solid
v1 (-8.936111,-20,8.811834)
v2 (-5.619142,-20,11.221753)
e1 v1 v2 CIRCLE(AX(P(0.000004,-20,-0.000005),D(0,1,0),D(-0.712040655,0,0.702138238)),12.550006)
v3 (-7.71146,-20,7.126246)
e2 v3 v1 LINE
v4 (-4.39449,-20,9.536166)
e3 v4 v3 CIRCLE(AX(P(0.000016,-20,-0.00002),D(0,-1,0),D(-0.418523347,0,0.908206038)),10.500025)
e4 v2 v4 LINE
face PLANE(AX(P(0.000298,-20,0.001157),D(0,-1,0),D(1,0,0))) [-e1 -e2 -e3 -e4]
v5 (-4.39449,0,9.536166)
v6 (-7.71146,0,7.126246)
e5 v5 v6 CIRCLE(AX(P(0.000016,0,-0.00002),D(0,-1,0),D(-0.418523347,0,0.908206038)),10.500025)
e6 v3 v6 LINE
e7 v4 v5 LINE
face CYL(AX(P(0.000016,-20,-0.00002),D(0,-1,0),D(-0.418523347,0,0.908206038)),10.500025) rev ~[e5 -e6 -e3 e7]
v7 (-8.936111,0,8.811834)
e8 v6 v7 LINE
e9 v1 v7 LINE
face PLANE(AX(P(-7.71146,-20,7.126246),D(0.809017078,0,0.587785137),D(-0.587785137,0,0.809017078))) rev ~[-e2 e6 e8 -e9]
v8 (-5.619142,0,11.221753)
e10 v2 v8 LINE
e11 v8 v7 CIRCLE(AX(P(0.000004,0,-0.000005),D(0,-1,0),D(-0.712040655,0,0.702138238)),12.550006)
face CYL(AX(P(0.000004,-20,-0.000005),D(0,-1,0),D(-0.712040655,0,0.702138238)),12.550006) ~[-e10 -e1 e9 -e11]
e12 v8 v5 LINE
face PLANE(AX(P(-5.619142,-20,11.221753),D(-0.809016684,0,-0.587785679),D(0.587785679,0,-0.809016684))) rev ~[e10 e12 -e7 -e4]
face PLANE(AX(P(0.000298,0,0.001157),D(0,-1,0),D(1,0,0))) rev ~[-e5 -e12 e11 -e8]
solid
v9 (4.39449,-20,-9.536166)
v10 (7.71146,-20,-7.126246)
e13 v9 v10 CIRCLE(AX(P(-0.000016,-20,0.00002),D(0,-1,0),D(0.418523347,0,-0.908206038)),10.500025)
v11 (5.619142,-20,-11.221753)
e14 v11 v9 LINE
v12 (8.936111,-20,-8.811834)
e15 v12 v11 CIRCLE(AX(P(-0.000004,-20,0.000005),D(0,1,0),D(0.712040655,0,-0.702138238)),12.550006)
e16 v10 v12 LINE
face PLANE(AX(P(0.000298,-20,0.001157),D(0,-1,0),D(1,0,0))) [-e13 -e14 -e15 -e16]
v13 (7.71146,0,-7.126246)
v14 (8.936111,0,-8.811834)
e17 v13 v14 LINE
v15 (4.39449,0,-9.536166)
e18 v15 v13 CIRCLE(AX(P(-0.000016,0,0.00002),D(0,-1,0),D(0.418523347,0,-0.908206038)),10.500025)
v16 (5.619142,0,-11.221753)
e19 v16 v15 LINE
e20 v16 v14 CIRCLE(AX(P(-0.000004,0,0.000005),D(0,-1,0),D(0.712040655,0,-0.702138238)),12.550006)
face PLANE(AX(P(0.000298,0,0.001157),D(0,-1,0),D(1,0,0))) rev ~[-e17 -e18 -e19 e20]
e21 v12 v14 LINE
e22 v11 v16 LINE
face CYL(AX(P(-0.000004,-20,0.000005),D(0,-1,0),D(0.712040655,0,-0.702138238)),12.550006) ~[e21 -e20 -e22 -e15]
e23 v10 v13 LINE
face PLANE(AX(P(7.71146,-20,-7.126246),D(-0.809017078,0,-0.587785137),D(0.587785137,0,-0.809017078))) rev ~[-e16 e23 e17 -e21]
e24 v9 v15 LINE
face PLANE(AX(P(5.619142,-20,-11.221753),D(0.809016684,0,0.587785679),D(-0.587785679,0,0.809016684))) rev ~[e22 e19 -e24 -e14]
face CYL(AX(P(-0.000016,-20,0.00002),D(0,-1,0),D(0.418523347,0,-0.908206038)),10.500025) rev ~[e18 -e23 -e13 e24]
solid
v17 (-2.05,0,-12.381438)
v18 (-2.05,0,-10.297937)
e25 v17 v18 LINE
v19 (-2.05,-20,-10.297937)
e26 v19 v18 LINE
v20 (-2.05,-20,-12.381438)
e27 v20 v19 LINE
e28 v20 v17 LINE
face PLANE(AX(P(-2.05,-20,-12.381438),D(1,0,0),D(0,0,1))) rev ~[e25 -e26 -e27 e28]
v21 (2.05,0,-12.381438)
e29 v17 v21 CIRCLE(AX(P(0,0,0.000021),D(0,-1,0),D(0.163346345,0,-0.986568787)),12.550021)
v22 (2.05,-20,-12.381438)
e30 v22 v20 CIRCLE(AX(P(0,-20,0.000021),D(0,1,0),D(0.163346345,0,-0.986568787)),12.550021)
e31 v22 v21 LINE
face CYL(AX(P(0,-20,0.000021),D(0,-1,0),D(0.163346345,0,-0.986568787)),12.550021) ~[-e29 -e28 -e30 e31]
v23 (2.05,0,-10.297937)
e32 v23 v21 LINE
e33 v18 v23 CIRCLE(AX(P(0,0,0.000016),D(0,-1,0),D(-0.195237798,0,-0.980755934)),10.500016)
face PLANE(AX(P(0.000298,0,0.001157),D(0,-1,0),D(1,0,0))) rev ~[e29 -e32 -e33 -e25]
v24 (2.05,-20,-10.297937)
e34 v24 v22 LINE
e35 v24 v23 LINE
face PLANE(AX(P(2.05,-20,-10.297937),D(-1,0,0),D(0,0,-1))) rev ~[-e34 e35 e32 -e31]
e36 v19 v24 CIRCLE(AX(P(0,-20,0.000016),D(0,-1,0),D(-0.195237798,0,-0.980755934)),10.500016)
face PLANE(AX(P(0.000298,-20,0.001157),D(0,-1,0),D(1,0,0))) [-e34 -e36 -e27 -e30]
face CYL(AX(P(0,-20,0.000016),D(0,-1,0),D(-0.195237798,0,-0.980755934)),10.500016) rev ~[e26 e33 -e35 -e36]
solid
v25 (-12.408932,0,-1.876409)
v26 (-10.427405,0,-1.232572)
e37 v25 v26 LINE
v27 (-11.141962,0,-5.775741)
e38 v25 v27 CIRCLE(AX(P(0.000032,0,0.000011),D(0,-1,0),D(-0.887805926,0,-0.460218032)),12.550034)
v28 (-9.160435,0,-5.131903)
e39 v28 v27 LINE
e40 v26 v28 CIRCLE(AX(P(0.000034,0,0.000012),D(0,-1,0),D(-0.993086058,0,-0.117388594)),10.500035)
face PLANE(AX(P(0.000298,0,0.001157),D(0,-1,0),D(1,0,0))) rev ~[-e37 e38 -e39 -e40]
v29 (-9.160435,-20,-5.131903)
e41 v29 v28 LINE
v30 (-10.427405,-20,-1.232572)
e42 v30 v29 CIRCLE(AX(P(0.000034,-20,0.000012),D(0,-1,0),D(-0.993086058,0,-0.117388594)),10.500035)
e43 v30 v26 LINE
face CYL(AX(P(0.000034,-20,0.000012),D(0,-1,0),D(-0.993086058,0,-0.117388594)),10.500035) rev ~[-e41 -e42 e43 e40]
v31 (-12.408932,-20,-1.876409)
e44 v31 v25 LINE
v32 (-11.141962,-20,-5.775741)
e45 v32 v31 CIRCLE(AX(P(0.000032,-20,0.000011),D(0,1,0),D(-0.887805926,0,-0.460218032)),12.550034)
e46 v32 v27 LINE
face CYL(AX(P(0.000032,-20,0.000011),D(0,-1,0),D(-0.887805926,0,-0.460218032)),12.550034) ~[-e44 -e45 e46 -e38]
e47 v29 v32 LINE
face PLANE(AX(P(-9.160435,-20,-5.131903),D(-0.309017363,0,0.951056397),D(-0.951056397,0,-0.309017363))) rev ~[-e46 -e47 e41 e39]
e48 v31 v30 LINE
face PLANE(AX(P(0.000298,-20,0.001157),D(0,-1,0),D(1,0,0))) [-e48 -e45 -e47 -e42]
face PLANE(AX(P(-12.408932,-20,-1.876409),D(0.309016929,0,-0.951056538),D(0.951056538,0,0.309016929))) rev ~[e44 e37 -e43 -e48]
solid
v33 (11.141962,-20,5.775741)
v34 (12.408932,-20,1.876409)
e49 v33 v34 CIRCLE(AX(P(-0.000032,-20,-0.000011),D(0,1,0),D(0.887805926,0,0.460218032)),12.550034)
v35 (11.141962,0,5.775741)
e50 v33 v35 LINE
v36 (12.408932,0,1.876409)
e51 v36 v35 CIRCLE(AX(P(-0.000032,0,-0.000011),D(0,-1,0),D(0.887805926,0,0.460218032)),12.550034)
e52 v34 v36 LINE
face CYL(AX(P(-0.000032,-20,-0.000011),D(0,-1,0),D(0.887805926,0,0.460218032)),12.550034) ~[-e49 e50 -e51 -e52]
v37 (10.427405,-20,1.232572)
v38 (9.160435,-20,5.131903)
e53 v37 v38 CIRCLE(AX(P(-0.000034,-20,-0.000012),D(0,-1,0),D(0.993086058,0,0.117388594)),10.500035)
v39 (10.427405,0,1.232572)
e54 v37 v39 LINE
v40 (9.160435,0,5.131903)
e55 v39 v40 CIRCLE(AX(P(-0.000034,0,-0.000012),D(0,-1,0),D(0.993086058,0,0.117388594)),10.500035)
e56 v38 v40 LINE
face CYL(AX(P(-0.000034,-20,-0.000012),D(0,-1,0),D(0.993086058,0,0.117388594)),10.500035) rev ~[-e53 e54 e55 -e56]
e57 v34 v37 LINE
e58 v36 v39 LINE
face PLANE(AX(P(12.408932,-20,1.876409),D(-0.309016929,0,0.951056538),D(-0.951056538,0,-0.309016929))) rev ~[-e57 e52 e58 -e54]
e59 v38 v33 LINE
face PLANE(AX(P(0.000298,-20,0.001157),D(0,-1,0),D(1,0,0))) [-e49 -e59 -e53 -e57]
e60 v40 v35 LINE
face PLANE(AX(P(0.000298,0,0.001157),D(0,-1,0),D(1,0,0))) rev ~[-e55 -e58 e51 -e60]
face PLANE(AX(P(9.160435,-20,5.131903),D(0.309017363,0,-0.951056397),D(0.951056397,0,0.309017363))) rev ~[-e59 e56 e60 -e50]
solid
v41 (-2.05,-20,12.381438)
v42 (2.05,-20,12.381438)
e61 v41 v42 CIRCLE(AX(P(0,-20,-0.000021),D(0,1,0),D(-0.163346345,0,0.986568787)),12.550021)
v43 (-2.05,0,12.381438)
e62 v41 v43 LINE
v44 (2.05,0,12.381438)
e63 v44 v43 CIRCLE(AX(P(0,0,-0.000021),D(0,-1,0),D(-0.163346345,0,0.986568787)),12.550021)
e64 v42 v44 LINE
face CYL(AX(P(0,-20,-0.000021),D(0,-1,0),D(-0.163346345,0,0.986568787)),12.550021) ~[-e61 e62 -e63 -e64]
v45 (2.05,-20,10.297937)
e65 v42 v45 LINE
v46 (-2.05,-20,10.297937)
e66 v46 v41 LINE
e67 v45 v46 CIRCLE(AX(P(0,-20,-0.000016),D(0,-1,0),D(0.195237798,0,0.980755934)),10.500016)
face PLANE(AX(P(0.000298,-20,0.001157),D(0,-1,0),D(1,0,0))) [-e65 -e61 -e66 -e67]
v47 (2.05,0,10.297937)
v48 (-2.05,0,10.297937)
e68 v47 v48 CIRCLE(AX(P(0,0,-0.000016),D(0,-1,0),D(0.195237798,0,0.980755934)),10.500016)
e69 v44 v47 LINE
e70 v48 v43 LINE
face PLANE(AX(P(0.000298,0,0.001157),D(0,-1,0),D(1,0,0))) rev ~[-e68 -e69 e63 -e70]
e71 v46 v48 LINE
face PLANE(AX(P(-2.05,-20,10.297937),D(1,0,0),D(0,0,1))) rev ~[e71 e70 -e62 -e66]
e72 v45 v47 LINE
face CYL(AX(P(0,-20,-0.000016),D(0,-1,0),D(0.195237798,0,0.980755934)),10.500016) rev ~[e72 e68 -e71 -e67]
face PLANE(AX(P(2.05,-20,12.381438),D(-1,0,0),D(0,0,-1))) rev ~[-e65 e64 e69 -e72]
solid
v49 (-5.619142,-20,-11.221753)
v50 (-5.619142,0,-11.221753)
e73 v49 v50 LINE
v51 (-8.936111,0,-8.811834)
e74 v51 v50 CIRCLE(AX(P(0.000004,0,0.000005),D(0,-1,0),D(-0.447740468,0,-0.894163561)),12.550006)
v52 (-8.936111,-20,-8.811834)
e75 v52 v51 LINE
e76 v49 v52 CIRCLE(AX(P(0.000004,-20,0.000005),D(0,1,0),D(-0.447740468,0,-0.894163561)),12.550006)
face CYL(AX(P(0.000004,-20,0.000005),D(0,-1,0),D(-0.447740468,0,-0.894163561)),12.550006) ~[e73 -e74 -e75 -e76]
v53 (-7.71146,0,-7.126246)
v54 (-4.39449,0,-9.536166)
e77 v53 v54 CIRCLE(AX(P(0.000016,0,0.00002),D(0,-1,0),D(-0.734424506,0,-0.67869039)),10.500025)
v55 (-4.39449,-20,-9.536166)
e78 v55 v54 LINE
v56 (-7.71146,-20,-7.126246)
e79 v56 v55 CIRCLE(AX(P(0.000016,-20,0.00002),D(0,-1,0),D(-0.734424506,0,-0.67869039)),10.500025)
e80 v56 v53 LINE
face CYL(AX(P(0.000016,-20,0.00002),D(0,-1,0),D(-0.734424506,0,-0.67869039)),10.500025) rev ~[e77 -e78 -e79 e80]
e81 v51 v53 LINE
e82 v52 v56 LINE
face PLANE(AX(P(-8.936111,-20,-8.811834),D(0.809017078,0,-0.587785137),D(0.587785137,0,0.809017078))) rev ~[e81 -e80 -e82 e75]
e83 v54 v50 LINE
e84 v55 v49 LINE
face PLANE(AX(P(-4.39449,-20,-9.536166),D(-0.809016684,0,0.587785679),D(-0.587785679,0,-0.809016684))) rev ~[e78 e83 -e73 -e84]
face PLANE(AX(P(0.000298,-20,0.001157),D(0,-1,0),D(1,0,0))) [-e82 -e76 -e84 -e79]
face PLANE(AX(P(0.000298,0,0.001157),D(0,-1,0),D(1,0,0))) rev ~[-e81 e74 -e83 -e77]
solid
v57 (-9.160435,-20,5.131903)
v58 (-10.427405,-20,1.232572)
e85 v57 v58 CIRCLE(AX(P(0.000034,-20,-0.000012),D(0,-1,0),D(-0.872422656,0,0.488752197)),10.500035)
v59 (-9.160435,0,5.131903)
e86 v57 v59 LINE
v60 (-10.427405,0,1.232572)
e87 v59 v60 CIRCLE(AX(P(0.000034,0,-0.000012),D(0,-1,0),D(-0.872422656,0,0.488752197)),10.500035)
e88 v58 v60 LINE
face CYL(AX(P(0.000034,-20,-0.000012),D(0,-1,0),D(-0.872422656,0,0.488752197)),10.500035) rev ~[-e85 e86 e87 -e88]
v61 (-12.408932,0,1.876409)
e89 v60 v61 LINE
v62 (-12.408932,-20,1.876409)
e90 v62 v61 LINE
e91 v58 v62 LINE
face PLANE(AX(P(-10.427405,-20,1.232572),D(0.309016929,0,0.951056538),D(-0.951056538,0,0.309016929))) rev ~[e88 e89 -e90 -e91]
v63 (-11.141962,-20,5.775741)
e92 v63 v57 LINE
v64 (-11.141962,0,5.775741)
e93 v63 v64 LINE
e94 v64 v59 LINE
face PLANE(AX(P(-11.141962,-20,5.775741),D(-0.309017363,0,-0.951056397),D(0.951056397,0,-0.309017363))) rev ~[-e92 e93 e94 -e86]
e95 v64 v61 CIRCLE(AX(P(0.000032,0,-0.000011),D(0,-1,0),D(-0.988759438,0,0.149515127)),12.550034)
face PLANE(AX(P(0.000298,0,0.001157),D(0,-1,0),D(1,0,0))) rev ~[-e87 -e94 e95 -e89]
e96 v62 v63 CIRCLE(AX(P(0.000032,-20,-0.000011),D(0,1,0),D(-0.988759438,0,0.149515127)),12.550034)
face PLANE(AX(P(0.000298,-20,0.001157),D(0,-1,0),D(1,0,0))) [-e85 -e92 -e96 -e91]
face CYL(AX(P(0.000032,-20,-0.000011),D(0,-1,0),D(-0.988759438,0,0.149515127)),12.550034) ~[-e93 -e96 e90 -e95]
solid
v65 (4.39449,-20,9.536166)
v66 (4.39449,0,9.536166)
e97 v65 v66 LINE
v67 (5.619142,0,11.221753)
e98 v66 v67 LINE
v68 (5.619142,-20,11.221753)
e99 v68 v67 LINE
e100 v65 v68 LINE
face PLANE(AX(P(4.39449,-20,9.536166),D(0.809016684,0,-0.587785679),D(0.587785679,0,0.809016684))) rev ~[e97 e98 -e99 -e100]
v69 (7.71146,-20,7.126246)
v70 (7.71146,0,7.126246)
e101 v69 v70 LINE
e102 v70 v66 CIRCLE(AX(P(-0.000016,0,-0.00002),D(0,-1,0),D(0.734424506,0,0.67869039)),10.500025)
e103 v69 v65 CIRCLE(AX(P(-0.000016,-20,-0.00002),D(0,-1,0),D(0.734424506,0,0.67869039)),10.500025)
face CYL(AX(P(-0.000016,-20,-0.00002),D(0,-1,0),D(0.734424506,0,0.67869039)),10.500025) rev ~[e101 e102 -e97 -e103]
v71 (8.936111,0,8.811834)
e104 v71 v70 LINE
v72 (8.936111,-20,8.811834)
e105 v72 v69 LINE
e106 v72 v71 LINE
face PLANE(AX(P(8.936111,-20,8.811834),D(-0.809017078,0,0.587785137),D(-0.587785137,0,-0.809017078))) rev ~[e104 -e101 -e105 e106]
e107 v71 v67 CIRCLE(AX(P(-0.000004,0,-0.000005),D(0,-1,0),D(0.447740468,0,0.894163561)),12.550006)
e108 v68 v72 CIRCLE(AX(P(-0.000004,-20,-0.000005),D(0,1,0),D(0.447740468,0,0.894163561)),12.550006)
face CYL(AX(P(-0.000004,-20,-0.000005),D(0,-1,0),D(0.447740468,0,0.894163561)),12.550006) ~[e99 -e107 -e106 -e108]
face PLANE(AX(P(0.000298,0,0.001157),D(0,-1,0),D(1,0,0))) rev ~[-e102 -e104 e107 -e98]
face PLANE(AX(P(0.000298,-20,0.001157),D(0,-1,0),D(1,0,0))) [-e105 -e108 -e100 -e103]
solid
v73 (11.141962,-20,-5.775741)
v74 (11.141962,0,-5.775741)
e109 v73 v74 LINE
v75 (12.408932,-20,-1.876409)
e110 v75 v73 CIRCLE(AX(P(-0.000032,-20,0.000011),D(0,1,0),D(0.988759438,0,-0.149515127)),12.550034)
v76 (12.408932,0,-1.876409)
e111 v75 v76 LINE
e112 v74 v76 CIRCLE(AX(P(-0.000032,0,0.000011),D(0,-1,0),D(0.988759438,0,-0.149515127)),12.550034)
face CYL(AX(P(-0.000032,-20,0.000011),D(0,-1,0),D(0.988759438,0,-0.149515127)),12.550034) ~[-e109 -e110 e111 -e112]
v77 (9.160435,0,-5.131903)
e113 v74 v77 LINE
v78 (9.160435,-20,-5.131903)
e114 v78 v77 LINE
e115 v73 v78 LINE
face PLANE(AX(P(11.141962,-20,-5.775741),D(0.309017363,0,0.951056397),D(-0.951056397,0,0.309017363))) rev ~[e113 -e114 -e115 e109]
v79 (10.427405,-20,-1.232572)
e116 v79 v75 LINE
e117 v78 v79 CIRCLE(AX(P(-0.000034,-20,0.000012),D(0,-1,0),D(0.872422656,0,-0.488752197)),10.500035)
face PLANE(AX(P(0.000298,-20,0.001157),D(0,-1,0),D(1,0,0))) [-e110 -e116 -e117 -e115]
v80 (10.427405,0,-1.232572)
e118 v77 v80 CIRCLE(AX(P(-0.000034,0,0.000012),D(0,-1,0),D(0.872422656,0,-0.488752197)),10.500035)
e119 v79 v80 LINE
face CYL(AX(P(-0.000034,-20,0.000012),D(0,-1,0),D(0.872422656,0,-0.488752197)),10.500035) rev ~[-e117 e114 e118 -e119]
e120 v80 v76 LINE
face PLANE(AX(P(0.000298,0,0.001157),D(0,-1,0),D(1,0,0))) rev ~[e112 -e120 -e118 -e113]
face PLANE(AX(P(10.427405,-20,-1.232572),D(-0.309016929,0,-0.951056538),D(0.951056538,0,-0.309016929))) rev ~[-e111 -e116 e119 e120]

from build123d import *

# Parameters (mm, degrees)
F1_DEPTH = 20
F3_DEPTH = 25


with BuildPart() as f1:
    # F0 (on Front) → F1 (new body)
    with BuildSketch(Plane.XZ):
        with BuildLine():
            ThreePointArc((48.729363, -11.200408), (49.681325, -5.636126), (50, 0))
            ThreePointArc((50, 0), (49.998301, 0.412138), (49.993206, 0.824248))
            ThreePointArc((49.993206, 0.824248), (49.726095, 5.226423), (49.072105, 9.587936))
            ThreePointArc((49.072105, 9.587936), (47.552826, 15.45085), (45.335814, 21.087057))
            ThreePointArc((45.335814, 21.087057), (43.30127, 25), (40.929834, 28.718438))
            ThreePointArc((40.929834, 28.718438), (37.157241, 33.45653), (32.839448, 37.703722))
            ThreePointArc((32.839448, 37.703722), (29.389263, 40.45085), (25.710422, 42.883262))
            ThreePointArc((25.710422, 42.883262), (20.336832, 45.677273), (14.664844, 47.801071))
            ThreePointArc((14.664844, 47.801071), (10.395585, 48.90738), (6.045446, 49.63318))
            ThreePointArc((6.045446, 49.63318), (3.028282, 49.908211), (0, 50))
            ThreePointArc((0, 50), (-3.028282, 49.908211), (-6.045446, 49.63318))
            ThreePointArc((-6.045446, 49.63318), (-10.395585, 48.90738), (-14.664844, 47.801071))
            ThreePointArc((-14.664844, 47.801071), (-20.336832, 45.677273), (-25.710422, 42.883262))
            ThreePointArc((-25.710422, 42.883262), (-29.389263, 40.45085), (-32.839448, 37.703722))
            ThreePointArc((-32.839448, 37.703722), (-37.157241, 33.45653), (-40.929834, 28.718438))
            ThreePointArc((-40.929834, 28.718438), (-43.30127, 25), (-45.335814, 21.087057))
            ThreePointArc((-45.335814, 21.087057), (-47.552826, 15.45085), (-49.072105, 9.587936))
            ThreePointArc((-49.072105, 9.587936), (-49.726095, 5.226423), (-49.993206, 0.824248))
            ThreePointArc((-49.993206, 0.824248), (-49.726095, -5.226423), (-48.729363, -11.200408))
            ThreePointArc((-48.729363, -11.200408), (-47.552826, -15.45085), (-46.006318, -19.581081))
            ThreePointArc((-46.006318, -19.581081), (-43.30127, -25), (-39.960872, -30.0521))
            ThreePointArc((-39.960872, -30.0521), (-37.157241, -33.45653), (-34.06452, -36.600663))
            ThreePointArc((-34.06452, -36.600663), (-29.389263, -40.45085), (-24.282783, -43.70751))
            ThreePointArc((-24.282783, -43.70751), (-20.336832, -45.677273), (-16.232657, -47.291657))
            ThreePointArc((-16.232657, -47.291657), (-10.395585, -48.90738), (-4.40598, -49.805495))
            ThreePointArc((-4.40598, -49.805495), (0, -50), (4.40598, -49.805495))
            ThreePointArc((4.40598, -49.805495), (10.395585, -48.90738), (16.232657, -47.291657))
            ThreePointArc((16.232657, -47.291657), (20.336832, -45.677273), (24.282783, -43.70751))
            ThreePointArc((24.282783, -43.70751), (29.389263, -40.45085), (34.06452, -36.600663))
            ThreePointArc((34.06452, -36.600663), (37.157241, -33.45653), (39.960872, -30.0521))
            ThreePointArc((39.960872, -30.0521), (43.30127, -25), (46.006318, -19.581081))
            ThreePointArc((46.006318, -19.581081), (47.552826, -15.45085), (48.729363, -11.200408))
        make_face()
        with BuildLine():
            ThreePointArc((49.993206, 0.824248), (49.998301, 0.412138), (50, 0))
            ThreePointArc((50, 0), (49.681325, -5.636126), (48.729363, -11.200408))
            ThreePointArc((48.729363, -11.200408), (54.079586, -11.415323), (59.43312, -11.311688))
            ThreePointArc((59.43312, -11.311688), (59.852825, -8.825494), (60.168575, -6.323972))
            ThreePointArc((60.168575, -6.323972), (60.379821, -3.811466), (60.486196, -1.29234))
            ThreePointArc((60.486196, -1.29234), (55.271196, -0.077907), (49.993206, 0.824248))
        make_face()
        with BuildLine():
            ThreePointArc((45.335814, 21.087057), (47.552826, 15.45085), (49.072105, 9.587936))
            ThreePointArc((49.072105, 9.587936), (54.04719, 11.567733), (58.895735, 13.839886))
            ThreePointArc((58.895735, 13.839886), (58.267928, 16.281847), (57.538919, 18.695528))
            ThreePointArc((57.538919, 18.695528), (56.709974, 21.076738), (55.782531, 23.421341))
            ThreePointArc((55.782531, 23.421341), (50.524438, 22.409649), (45.335814, 21.087057))
        make_face()
        with BuildLine():
            ThreePointArc((54.731247, -25.782563), (50.461062, -22.551992), (46.006318, -19.581081))
            ThreePointArc((46.006318, -19.581081), (43.30127, -25), (39.960872, -30.0521))
            ThreePointArc((39.960872, -30.0521), (44.76113, -32.424566), (49.693979, -34.507369))
            ThreePointArc((49.693979, -34.507369), (51.088624, -32.406827), (52.394537, -30.25))
            ThreePointArc((52.394537, -30.25), (53.609448, -28.040633), (54.731247, -25.782563))
        make_face()
        with BuildLine():
            ThreePointArc((32.839448, 37.703722), (37.157241, 33.45653), (40.929834, 28.718438))
            ThreePointArc((40.929834, 28.718438), (44.669544, 32.550622), (48.174742, 36.598419))
            ThreePointArc((48.174742, 36.598419), (46.607977, 38.573909), (44.960262, 40.482402))
            ThreePointArc((44.960262, 40.482402), (43.234457, 42.320583), (41.43356, 44.085259))
            ThreePointArc((41.43356, 44.085259), (37.041545, 41.022373), (32.839448, 37.703722))
        make_face()
        with BuildLine():
            ThreePointArc((39.512769, -45.814747), (36.925753, -41.126633), (34.06452, -36.600663))
            ThreePointArc((34.06452, -36.600663), (29.389263, -40.45085), (24.282783, -43.70751))
            ThreePointArc((24.282783, -43.70751), (27.703068, -47.827306), (31.362297, -51.736412))
            ThreePointArc((31.362297, -51.736412), (33.490737, -50.384725), (35.561008, -48.945528))
            ThreePointArc((35.561008, -48.945528), (37.569515, -47.42132), (39.512769, -45.814747))
        make_face()
        with BuildLine():
            ThreePointArc((14.664844, 47.801071), (20.336832, 45.677273), (25.710422, 42.883262))
            ThreePointArc((25.710422, 42.883262), (27.568128, 47.905214), (29.123899, 53.028752))
            ThreePointArc((29.123899, 53.028752), (26.889084, 54.196191), (24.607567, 55.2695))
            ThreePointArc((24.607567, 55.2695), (22.28331, 56.246814), (19.920351, 57.126435))
            ThreePointArc((19.920351, 57.126435), (17.153833, 52.541957), (14.664844, 47.801071))
        make_face()
        with BuildLine():
            ThreePointArc((17.462174, -57.925145), (17.005645, -52.590106), (16.232657, -47.291657))
            ThreePointArc((16.232657, -47.291657), (10.395585, -48.90738), (4.40598, -49.805495))
            ThreePointArc((4.40598, -49.805495), (5.854894, -54.960271), (7.607789, -60.01976))
            ThreePointArc((7.607789, -60.01976), (10.101996, -59.650647), (12.578657, -59.17793))
            ThreePointArc((12.578657, -59.17793), (15.033471, -58.60243), (17.462174, -57.925145))
        make_face()
        with BuildLine():
            ThreePointArc((0, 50), (3.028282, 49.908211), (6.045446, 49.63318))
            ThreePointArc((6.045446, 49.63318), (5.699933, 54.976558), (5.037269, 60.289932))
            ThreePointArc((5.037269, 60.289932), (2.520824, 60.44746), (0, 60.5))
            Line((0, 60.5), (0, 50))
        make_face()
        with BuildLine():
            ThreePointArc((-7.607789, -60.01976), (-5.854894, -54.960271), (-4.40598, -49.805495))
            ThreePointArc((-4.40598, -49.805495), (-10.395585, -48.90738), (-16.232657, -47.291657))
            ThreePointArc((-16.232657, -47.291657), (-17.005645, -52.590106), (-17.462174, -57.925145))
            ThreePointArc((-17.462174, -57.925145), (-15.033471, -58.60243), (-12.578657, -59.17793))
            ThreePointArc((-12.578657, -59.17793), (-10.101996, -59.650647), (-7.607789, -60.01976))
        make_face()
        with BuildLine():
            ThreePointArc((-6.045446, 49.63318), (-3.028282, 49.908211), (0, 50))
            Line((0, 50), (0, 60.5))
            ThreePointArc((0, 60.5), (-2.520824, 60.44746), (-5.037269, 60.289932))
            ThreePointArc((-5.037269, 60.289932), (-5.699933, 54.976558), (-6.045446, 49.63318))
        make_face()
        with BuildLine():
            ThreePointArc((-31.362297, -51.736412), (-27.703068, -47.827306), (-24.282783, -43.70751))
            ThreePointArc((-24.282783, -43.70751), (-29.389263, -40.45085), (-34.06452, -36.600663))
            ThreePointArc((-34.06452, -36.600663), (-36.925753, -41.126633), (-39.512769, -45.814747))
            ThreePointArc((-39.512769, -45.814747), (-37.569515, -47.42132), (-35.561008, -48.945528))
            ThreePointArc((-35.561008, -48.945528), (-33.490737, -50.384725), (-31.362297, -51.736412))
        make_face()
        with BuildLine():
            ThreePointArc((-25.710422, 42.883262), (-20.336832, 45.677273), (-14.664844, 47.801071))
            ThreePointArc((-14.664844, 47.801071), (-17.153833, 52.541957), (-19.920351, 57.126435))
            ThreePointArc((-19.920351, 57.126435), (-22.28331, 56.246814), (-24.607567, 55.2695))
            ThreePointArc((-24.607567, 55.2695), (-26.889084, 54.196191), (-29.123899, 53.028752))
            ThreePointArc((-29.123899, 53.028752), (-27.568128, 47.905214), (-25.710422, 42.883262))
        make_face()
        with BuildLine():
            ThreePointArc((-49.693979, -34.507369), (-44.76113, -32.424566), (-39.960872, -30.0521))
            ThreePointArc((-39.960872, -30.0521), (-43.30127, -25), (-46.006318, -19.581081))
            ThreePointArc((-46.006318, -19.581081), (-50.461062, -22.551992), (-54.731247, -25.782563))
            ThreePointArc((-54.731247, -25.782563), (-53.609448, -28.040633), (-52.394537, -30.25))
            ThreePointArc((-52.394537, -30.25), (-51.088624, -32.406827), (-49.693979, -34.507369))
        make_face()
        with BuildLine():
            ThreePointArc((-40.929834, 28.718438), (-37.157241, 33.45653), (-32.839448, 37.703722))
            ThreePointArc((-32.839448, 37.703722), (-37.041545, 41.022373), (-41.43356, 44.085259))
            ThreePointArc((-41.43356, 44.085259), (-43.234457, 42.320583), (-44.960262, 40.482402))
            ThreePointArc((-44.960262, 40.482402), (-46.607977, 38.573909), (-48.174742, 36.598419))
            ThreePointArc((-48.174742, 36.598419), (-44.669544, 32.550622), (-40.929834, 28.718438))
        make_face()
        with BuildLine():
            ThreePointArc((-59.43312, -11.311688), (-54.079586, -11.415323), (-48.729363, -11.200408))
            ThreePointArc((-48.729363, -11.200408), (-49.726095, -5.226423), (-49.993206, 0.824248))
            ThreePointArc((-49.993206, 0.824248), (-55.271196, -0.077907), (-60.486196, -1.29234))
            ThreePointArc((-60.486196, -1.29234), (-60.379821, -3.811466), (-60.168575, -6.323972))
            ThreePointArc((-60.168575, -6.323972), (-59.852825, -8.825494), (-59.43312, -11.311688))
        make_face()
        with BuildLine():
            ThreePointArc((-49.072105, 9.587936), (-47.552826, 15.45085), (-45.335814, 21.087057))
            ThreePointArc((-45.335814, 21.087057), (-50.524438, 22.409649), (-55.782531, 23.421341))
            ThreePointArc((-55.782531, 23.421341), (-56.709974, 21.076738), (-57.538919, 18.695528))
            ThreePointArc((-57.538919, 18.695528), (-58.267928, 16.281847), (-58.895735, 13.839886))
            ThreePointArc((-58.895735, 13.839886), (-54.04719, 11.567733), (-49.072105, 9.587936))
        make_face()
    extrude(amount=F1_DEPTH)

    # F2 (on face) → F3 (cut)
    with BuildSketch(Plane.XZ.offset(20)):
        with BuildLine():
            ThreePointArc((54.731247, -25.782563), (50.461062, -22.551992), (46.006318, -19.581081))
            ThreePointArc((46.006318, -19.581081), (47.552826, -15.45085), (48.729363, -11.200408))
            ThreePointArc((48.729363, -11.200408), (54.079586, -11.415323), (59.43312, -11.311688))
            ThreePointArc((59.43312, -11.311688), (60.168575, -6.323972), (60.486196, -1.29234))
            ThreePointArc((60.486196, -1.29234), (55.271196, -0.077907), (49.993206, 0.824248))
            ThreePointArc((49.993206, 0.824248), (49.726095, 5.226423), (49.072105, 9.587936))
            ThreePointArc((49.072105, 9.587936), (54.04719, 11.567733), (58.895735, 13.839886))
            ThreePointArc((58.895735, 13.839886), (57.538919, 18.695528), (55.782531, 23.421341))
            ThreePointArc((55.782531, 23.421341), (50.524438, 22.409649), (45.335814, 21.087057))
            ThreePointArc((45.335814, 21.087057), (43.30127, 25), (40.929834, 28.718438))
            ThreePointArc((40.929834, 28.718438), (44.669544, 32.550622), (48.174742, 36.598419))
            ThreePointArc((48.174742, 36.598419), (44.960262, 40.482402), (41.43356, 44.085259))
            ThreePointArc((41.43356, 44.085259), (37.041545, 41.022373), (32.839448, 37.703722))
            ThreePointArc((32.839448, 37.703722), (29.389263, 40.45085), (25.710422, 42.883262))
            ThreePointArc((25.710422, 42.883262), (27.568128, 47.905214), (29.123899, 53.028752))
            ThreePointArc((29.123899, 53.028752), (24.607567, 55.2695), (19.920351, 57.126435))
            ThreePointArc((19.920351, 57.126435), (17.153833, 52.541957), (14.664844, 47.801071))
            ThreePointArc((14.664844, 47.801071), (10.395585, 48.90738), (6.045446, 49.63318))
            ThreePointArc((6.045446, 49.63318), (5.699933, 54.976558), (5.037269, 60.289932))
            ThreePointArc((5.037269, 60.289932), (0, 60.5), (-5.037269, 60.289932))
            ThreePointArc((-5.037269, 60.289932), (-5.699933, 54.976558), (-6.045446, 49.63318))
            ThreePointArc((-6.045446, 49.63318), (-10.395585, 48.90738), (-14.664844, 47.801071))
            ThreePointArc((-14.664844, 47.801071), (-17.153833, 52.541957), (-19.920351, 57.126435))
            ThreePointArc((-19.920351, 57.126435), (-24.607567, 55.2695), (-29.123899, 53.028752))
            ThreePointArc((-29.123899, 53.028752), (-27.568128, 47.905214), (-25.710422, 42.883262))
            ThreePointArc((-25.710422, 42.883262), (-29.389263, 40.45085), (-32.839448, 37.703722))
            ThreePointArc((-32.839448, 37.703722), (-37.041545, 41.022373), (-41.43356, 44.085259))
            ThreePointArc((-41.43356, 44.085259), (-44.960262, 40.482402), (-48.174742, 36.598419))
            ThreePointArc((-48.174742, 36.598419), (-44.669544, 32.550622), (-40.929834, 28.718438))
            ThreePointArc((-40.929834, 28.718438), (-43.30127, 25), (-45.335814, 21.087057))
            ThreePointArc((-45.335814, 21.087057), (-50.524438, 22.409649), (-55.782531, 23.421341))
            ThreePointArc((-55.782531, 23.421341), (-57.538919, 18.695528), (-58.895735, 13.839886))
            ThreePointArc((-58.895735, 13.839886), (-54.04719, 11.567733), (-49.072105, 9.587936))
            ThreePointArc((-49.072105, 9.587936), (-49.726095, 5.226423), (-49.993206, 0.824248))
            ThreePointArc((-49.993206, 0.824248), (-55.271196, -0.077907), (-60.486196, -1.29234))
            ThreePointArc((-60.486196, -1.29234), (-60.168575, -6.323972), (-59.43312, -11.311688))
            ThreePointArc((-59.43312, -11.311688), (-54.079586, -11.415323), (-48.729363, -11.200408))
            ThreePointArc((-48.729363, -11.200408), (-47.552826, -15.45085), (-46.006318, -19.581081))
            ThreePointArc((-46.006318, -19.581081), (-50.461062, -22.551992), (-54.731247, -25.782563))
            ThreePointArc((-54.731247, -25.782563), (-52.394537, -30.25), (-49.693979, -34.507369))
            ThreePointArc((-49.693979, -34.507369), (-44.76113, -32.424566), (-39.960872, -30.0521))
            ThreePointArc((-39.960872, -30.0521), (-37.157241, -33.45653), (-34.06452, -36.600663))
            ThreePointArc((-34.06452, -36.600663), (-36.925753, -41.126633), (-39.512769, -45.814747))
            ThreePointArc((-39.512769, -45.814747), (-35.561008, -48.945528), (-31.362297, -51.736412))
            ThreePointArc((-31.362297, -51.736412), (-27.703068, -47.827306), (-24.282783, -43.70751))
            ThreePointArc((-24.282783, -43.70751), (-20.336832, -45.677273), (-16.232657, -47.291657))
            ThreePointArc((-16.232657, -47.291657), (-17.005645, -52.590106), (-17.462174, -57.925145))
            ThreePointArc((-17.462174, -57.925145), (-12.578657, -59.17793), (-7.607789, -60.01976))
            ThreePointArc((-7.607789, -60.01976), (-5.854894, -54.960271), (-4.40598, -49.805495))
            ThreePointArc((-4.40598, -49.805495), (0, -50), (4.40598, -49.805495))
            ThreePointArc((4.40598, -49.805495), (5.854894, -54.960271), (7.607789, -60.01976))
            ThreePointArc((7.607789, -60.01976), (12.578657, -59.17793), (17.462174, -57.925145))
            ThreePointArc((17.462174, -57.925145), (17.005645, -52.590106), (16.232657, -47.291657))
            ThreePointArc((16.232657, -47.291657), (20.336832, -45.677273), (24.282783, -43.70751))
            ThreePointArc((24.282783, -43.70751), (27.703068, -47.827306), (31.362297, -51.736412))
            ThreePointArc((31.362297, -51.736412), (35.561008, -48.945528), (39.512769, -45.814747))
            ThreePointArc((39.512769, -45.814747), (36.925753, -41.126633), (34.06452, -36.600663))
            ThreePointArc((34.06452, -36.600663), (37.157241, -33.45653), (39.960872, -30.0521))
            ThreePointArc((39.960872, -30.0521), (44.76113, -32.424566), (49.693979, -34.507369))
            ThreePointArc((49.693979, -34.507369), (52.394537, -30.25), (54.731247, -25.782563))
        make_face()
        with BuildLine():
            ThreePointArc((-2.05, 12.381438), (0, 12.55), (2.05, 12.381438))
            Line((2.05, 12.381438), (2.05, 10.297937))
            ThreePointArc((2.05, 10.297937), (3.244678, 9.986093), (4.39449, 9.536166))
            Line((4.39449, 9.536166), (5.619142, 11.221753))
            ThreePointArc((5.619142, 11.221753), (7.376705, 10.153163), (8.936111, 8.811834))
            Line((8.936111, 8.811834), (7.71146, 7.126246))
            ThreePointArc((7.71146, 7.126246), (8.494678, 6.171745), (9.160435, 5.131903))
            Line((9.160435, 5.131903), (11.141962, 5.775741))
            ThreePointArc((11.141962, 5.775741), (11.935759, 3.878163), (12.408932, 1.876409))
            Line((12.408932, 1.876409), (10.427405, 1.232572))
            ThreePointArc((10.427405, 1.232572), (10.481835, 0.617354), (10.5, 0))
            ThreePointArc((10.5, 0), (10.481835, -0.617354), (10.427405, -1.232572))
            Line((10.427405, -1.232572), (12.408932, -1.876409))
            ThreePointArc((12.408932, -1.876409), (11.935759, -3.878163), (11.141962, -5.775741))
            Line((11.141962, -5.775741), (9.160435, -5.131903))
            ThreePointArc((9.160435, -5.131903), (8.494678, -6.171745), (7.71146, -7.126246))
            Line((7.71146, -7.126246), (8.936111, -8.811834))
            ThreePointArc((8.936111, -8.811834), (7.376705, -10.153163), (5.619142, -11.221753))
            Line((5.619142, -11.221753), (4.39449, -9.536166))
            ThreePointArc((4.39449, -9.536166), (3.244678, -9.986093), (2.05, -10.297937))
            Line((2.05, -10.297937), (2.05, -12.381438))
            ThreePointArc((2.05, -12.381438), (0, -12.55), (-2.05, -12.381438))
            Line((-2.05, -12.381438), (-2.05, -10.297937))
            ThreePointArc((-2.05, -10.297937), (-3.244678, -9.986093), (-4.39449, -9.536166))
            Line((-4.39449, -9.536166), (-5.619142, -11.221753))
            ThreePointArc((-5.619142, -11.221753), (-7.376705, -10.153163), (-8.936111, -8.811834))
            Line((-8.936111, -8.811834), (-7.71146, -7.126246))
            ThreePointArc((-7.71146, -7.126246), (-8.494678, -6.171745), (-9.160435, -5.131903))
            Line((-9.160435, -5.131903), (-11.141962, -5.775741))
            ThreePointArc((-11.141962, -5.775741), (-11.935759, -3.878163), (-12.408932, -1.876409))
            Line((-12.408932, -1.876409), (-10.427405, -1.232572))
            ThreePointArc((-10.427405, -1.232572), (-10.5, 0), (-10.427405, 1.232572))
            Line((-10.427405, 1.232572), (-12.408932, 1.876409))
            ThreePointArc((-12.408932, 1.876409), (-11.935759, 3.878163), (-11.141962, 5.775741))
            Line((-11.141962, 5.775741), (-9.160435, 5.131903))
            ThreePointArc((-9.160435, 5.131903), (-8.494678, 6.171745), (-7.71146, 7.126246))
            Line((-7.71146, 7.126246), (-8.936111, 8.811834))
            ThreePointArc((-8.936111, 8.811834), (-7.376705, 10.153163), (-5.619142, 11.221753))
            Line((-5.619142, 11.221753), (-4.39449, 9.536166))
            ThreePointArc((-4.39449, 9.536166), (-3.244678, 9.986093), (-2.05, 10.297937))
            Line((-2.05, 10.297937), (-2.05, 12.381438))
        make_face(mode=Mode.SUBTRACT)
        with BuildLine():
            ThreePointArc((4.39449, 9.536166), (3.244678, 9.986093), (2.05, 10.297937))
            ThreePointArc((2.05, 10.297937), (0, 10.5), (-2.05, 10.297937))
            ThreePointArc((-2.05, 10.297937), (-3.244678, 9.986093), (-4.39449, 9.536166))
            ThreePointArc((-4.39449, 9.536166), (-6.171745, 8.494678), (-7.71146, 7.126246))
            ThreePointArc((-7.71146, 7.126246), (-8.494678, 6.171745), (-9.160435, 5.131903))
            ThreePointArc((-9.160435, 5.131903), (-9.986093, 3.244678), (-10.427405, 1.232572))
            ThreePointArc((-10.427405, 1.232572), (-10.5, 0), (-10.427405, -1.232572))
            ThreePointArc((-10.427405, -1.232572), (-9.986093, -3.244678), (-9.160435, -5.131903))
            ThreePointArc((-9.160435, -5.131903), (-8.494678, -6.171745), (-7.71146, -7.126246))
            ThreePointArc((-7.71146, -7.126246), (-6.171745, -8.494678), (-4.39449, -9.536166))
            ThreePointArc((-4.39449, -9.536166), (-3.244678, -9.986093), (-2.05, -10.297937))
            ThreePointArc((-2.05, -10.297937), (0, -10.5), (2.05, -10.297937))
            ThreePointArc((2.05, -10.297937), (3.244678, -9.986093), (4.39449, -9.536166))
            ThreePointArc((4.39449, -9.536166), (6.171745, -8.494678), (7.71146, -7.126246))
            ThreePointArc((7.71146, -7.126246), (8.494678, -6.171745), (9.160435, -5.131903))
            ThreePointArc((9.160435, -5.131903), (9.986093, -3.244678), (10.427405, -1.232572))
            ThreePointArc((10.427405, -1.232572), (10.481835, -0.617354), (10.5, 0))
            ThreePointArc((10.5, 0), (10.481835, 0.617354), (10.427405, 1.232572))
            ThreePointArc((10.427405, 1.232572), (9.986093, 3.244678), (9.160435, 5.131903))
            ThreePointArc((9.160435, 5.131903), (8.494678, 6.171745), (7.71146, 7.126246))
            ThreePointArc((7.71146, 7.126246), (6.171745, 8.494678), (4.39449, 9.536166))
        make_face()
    extrude(amount=-F3_DEPTH, mode=Mode.SUBTRACT)


solid = f1.part
